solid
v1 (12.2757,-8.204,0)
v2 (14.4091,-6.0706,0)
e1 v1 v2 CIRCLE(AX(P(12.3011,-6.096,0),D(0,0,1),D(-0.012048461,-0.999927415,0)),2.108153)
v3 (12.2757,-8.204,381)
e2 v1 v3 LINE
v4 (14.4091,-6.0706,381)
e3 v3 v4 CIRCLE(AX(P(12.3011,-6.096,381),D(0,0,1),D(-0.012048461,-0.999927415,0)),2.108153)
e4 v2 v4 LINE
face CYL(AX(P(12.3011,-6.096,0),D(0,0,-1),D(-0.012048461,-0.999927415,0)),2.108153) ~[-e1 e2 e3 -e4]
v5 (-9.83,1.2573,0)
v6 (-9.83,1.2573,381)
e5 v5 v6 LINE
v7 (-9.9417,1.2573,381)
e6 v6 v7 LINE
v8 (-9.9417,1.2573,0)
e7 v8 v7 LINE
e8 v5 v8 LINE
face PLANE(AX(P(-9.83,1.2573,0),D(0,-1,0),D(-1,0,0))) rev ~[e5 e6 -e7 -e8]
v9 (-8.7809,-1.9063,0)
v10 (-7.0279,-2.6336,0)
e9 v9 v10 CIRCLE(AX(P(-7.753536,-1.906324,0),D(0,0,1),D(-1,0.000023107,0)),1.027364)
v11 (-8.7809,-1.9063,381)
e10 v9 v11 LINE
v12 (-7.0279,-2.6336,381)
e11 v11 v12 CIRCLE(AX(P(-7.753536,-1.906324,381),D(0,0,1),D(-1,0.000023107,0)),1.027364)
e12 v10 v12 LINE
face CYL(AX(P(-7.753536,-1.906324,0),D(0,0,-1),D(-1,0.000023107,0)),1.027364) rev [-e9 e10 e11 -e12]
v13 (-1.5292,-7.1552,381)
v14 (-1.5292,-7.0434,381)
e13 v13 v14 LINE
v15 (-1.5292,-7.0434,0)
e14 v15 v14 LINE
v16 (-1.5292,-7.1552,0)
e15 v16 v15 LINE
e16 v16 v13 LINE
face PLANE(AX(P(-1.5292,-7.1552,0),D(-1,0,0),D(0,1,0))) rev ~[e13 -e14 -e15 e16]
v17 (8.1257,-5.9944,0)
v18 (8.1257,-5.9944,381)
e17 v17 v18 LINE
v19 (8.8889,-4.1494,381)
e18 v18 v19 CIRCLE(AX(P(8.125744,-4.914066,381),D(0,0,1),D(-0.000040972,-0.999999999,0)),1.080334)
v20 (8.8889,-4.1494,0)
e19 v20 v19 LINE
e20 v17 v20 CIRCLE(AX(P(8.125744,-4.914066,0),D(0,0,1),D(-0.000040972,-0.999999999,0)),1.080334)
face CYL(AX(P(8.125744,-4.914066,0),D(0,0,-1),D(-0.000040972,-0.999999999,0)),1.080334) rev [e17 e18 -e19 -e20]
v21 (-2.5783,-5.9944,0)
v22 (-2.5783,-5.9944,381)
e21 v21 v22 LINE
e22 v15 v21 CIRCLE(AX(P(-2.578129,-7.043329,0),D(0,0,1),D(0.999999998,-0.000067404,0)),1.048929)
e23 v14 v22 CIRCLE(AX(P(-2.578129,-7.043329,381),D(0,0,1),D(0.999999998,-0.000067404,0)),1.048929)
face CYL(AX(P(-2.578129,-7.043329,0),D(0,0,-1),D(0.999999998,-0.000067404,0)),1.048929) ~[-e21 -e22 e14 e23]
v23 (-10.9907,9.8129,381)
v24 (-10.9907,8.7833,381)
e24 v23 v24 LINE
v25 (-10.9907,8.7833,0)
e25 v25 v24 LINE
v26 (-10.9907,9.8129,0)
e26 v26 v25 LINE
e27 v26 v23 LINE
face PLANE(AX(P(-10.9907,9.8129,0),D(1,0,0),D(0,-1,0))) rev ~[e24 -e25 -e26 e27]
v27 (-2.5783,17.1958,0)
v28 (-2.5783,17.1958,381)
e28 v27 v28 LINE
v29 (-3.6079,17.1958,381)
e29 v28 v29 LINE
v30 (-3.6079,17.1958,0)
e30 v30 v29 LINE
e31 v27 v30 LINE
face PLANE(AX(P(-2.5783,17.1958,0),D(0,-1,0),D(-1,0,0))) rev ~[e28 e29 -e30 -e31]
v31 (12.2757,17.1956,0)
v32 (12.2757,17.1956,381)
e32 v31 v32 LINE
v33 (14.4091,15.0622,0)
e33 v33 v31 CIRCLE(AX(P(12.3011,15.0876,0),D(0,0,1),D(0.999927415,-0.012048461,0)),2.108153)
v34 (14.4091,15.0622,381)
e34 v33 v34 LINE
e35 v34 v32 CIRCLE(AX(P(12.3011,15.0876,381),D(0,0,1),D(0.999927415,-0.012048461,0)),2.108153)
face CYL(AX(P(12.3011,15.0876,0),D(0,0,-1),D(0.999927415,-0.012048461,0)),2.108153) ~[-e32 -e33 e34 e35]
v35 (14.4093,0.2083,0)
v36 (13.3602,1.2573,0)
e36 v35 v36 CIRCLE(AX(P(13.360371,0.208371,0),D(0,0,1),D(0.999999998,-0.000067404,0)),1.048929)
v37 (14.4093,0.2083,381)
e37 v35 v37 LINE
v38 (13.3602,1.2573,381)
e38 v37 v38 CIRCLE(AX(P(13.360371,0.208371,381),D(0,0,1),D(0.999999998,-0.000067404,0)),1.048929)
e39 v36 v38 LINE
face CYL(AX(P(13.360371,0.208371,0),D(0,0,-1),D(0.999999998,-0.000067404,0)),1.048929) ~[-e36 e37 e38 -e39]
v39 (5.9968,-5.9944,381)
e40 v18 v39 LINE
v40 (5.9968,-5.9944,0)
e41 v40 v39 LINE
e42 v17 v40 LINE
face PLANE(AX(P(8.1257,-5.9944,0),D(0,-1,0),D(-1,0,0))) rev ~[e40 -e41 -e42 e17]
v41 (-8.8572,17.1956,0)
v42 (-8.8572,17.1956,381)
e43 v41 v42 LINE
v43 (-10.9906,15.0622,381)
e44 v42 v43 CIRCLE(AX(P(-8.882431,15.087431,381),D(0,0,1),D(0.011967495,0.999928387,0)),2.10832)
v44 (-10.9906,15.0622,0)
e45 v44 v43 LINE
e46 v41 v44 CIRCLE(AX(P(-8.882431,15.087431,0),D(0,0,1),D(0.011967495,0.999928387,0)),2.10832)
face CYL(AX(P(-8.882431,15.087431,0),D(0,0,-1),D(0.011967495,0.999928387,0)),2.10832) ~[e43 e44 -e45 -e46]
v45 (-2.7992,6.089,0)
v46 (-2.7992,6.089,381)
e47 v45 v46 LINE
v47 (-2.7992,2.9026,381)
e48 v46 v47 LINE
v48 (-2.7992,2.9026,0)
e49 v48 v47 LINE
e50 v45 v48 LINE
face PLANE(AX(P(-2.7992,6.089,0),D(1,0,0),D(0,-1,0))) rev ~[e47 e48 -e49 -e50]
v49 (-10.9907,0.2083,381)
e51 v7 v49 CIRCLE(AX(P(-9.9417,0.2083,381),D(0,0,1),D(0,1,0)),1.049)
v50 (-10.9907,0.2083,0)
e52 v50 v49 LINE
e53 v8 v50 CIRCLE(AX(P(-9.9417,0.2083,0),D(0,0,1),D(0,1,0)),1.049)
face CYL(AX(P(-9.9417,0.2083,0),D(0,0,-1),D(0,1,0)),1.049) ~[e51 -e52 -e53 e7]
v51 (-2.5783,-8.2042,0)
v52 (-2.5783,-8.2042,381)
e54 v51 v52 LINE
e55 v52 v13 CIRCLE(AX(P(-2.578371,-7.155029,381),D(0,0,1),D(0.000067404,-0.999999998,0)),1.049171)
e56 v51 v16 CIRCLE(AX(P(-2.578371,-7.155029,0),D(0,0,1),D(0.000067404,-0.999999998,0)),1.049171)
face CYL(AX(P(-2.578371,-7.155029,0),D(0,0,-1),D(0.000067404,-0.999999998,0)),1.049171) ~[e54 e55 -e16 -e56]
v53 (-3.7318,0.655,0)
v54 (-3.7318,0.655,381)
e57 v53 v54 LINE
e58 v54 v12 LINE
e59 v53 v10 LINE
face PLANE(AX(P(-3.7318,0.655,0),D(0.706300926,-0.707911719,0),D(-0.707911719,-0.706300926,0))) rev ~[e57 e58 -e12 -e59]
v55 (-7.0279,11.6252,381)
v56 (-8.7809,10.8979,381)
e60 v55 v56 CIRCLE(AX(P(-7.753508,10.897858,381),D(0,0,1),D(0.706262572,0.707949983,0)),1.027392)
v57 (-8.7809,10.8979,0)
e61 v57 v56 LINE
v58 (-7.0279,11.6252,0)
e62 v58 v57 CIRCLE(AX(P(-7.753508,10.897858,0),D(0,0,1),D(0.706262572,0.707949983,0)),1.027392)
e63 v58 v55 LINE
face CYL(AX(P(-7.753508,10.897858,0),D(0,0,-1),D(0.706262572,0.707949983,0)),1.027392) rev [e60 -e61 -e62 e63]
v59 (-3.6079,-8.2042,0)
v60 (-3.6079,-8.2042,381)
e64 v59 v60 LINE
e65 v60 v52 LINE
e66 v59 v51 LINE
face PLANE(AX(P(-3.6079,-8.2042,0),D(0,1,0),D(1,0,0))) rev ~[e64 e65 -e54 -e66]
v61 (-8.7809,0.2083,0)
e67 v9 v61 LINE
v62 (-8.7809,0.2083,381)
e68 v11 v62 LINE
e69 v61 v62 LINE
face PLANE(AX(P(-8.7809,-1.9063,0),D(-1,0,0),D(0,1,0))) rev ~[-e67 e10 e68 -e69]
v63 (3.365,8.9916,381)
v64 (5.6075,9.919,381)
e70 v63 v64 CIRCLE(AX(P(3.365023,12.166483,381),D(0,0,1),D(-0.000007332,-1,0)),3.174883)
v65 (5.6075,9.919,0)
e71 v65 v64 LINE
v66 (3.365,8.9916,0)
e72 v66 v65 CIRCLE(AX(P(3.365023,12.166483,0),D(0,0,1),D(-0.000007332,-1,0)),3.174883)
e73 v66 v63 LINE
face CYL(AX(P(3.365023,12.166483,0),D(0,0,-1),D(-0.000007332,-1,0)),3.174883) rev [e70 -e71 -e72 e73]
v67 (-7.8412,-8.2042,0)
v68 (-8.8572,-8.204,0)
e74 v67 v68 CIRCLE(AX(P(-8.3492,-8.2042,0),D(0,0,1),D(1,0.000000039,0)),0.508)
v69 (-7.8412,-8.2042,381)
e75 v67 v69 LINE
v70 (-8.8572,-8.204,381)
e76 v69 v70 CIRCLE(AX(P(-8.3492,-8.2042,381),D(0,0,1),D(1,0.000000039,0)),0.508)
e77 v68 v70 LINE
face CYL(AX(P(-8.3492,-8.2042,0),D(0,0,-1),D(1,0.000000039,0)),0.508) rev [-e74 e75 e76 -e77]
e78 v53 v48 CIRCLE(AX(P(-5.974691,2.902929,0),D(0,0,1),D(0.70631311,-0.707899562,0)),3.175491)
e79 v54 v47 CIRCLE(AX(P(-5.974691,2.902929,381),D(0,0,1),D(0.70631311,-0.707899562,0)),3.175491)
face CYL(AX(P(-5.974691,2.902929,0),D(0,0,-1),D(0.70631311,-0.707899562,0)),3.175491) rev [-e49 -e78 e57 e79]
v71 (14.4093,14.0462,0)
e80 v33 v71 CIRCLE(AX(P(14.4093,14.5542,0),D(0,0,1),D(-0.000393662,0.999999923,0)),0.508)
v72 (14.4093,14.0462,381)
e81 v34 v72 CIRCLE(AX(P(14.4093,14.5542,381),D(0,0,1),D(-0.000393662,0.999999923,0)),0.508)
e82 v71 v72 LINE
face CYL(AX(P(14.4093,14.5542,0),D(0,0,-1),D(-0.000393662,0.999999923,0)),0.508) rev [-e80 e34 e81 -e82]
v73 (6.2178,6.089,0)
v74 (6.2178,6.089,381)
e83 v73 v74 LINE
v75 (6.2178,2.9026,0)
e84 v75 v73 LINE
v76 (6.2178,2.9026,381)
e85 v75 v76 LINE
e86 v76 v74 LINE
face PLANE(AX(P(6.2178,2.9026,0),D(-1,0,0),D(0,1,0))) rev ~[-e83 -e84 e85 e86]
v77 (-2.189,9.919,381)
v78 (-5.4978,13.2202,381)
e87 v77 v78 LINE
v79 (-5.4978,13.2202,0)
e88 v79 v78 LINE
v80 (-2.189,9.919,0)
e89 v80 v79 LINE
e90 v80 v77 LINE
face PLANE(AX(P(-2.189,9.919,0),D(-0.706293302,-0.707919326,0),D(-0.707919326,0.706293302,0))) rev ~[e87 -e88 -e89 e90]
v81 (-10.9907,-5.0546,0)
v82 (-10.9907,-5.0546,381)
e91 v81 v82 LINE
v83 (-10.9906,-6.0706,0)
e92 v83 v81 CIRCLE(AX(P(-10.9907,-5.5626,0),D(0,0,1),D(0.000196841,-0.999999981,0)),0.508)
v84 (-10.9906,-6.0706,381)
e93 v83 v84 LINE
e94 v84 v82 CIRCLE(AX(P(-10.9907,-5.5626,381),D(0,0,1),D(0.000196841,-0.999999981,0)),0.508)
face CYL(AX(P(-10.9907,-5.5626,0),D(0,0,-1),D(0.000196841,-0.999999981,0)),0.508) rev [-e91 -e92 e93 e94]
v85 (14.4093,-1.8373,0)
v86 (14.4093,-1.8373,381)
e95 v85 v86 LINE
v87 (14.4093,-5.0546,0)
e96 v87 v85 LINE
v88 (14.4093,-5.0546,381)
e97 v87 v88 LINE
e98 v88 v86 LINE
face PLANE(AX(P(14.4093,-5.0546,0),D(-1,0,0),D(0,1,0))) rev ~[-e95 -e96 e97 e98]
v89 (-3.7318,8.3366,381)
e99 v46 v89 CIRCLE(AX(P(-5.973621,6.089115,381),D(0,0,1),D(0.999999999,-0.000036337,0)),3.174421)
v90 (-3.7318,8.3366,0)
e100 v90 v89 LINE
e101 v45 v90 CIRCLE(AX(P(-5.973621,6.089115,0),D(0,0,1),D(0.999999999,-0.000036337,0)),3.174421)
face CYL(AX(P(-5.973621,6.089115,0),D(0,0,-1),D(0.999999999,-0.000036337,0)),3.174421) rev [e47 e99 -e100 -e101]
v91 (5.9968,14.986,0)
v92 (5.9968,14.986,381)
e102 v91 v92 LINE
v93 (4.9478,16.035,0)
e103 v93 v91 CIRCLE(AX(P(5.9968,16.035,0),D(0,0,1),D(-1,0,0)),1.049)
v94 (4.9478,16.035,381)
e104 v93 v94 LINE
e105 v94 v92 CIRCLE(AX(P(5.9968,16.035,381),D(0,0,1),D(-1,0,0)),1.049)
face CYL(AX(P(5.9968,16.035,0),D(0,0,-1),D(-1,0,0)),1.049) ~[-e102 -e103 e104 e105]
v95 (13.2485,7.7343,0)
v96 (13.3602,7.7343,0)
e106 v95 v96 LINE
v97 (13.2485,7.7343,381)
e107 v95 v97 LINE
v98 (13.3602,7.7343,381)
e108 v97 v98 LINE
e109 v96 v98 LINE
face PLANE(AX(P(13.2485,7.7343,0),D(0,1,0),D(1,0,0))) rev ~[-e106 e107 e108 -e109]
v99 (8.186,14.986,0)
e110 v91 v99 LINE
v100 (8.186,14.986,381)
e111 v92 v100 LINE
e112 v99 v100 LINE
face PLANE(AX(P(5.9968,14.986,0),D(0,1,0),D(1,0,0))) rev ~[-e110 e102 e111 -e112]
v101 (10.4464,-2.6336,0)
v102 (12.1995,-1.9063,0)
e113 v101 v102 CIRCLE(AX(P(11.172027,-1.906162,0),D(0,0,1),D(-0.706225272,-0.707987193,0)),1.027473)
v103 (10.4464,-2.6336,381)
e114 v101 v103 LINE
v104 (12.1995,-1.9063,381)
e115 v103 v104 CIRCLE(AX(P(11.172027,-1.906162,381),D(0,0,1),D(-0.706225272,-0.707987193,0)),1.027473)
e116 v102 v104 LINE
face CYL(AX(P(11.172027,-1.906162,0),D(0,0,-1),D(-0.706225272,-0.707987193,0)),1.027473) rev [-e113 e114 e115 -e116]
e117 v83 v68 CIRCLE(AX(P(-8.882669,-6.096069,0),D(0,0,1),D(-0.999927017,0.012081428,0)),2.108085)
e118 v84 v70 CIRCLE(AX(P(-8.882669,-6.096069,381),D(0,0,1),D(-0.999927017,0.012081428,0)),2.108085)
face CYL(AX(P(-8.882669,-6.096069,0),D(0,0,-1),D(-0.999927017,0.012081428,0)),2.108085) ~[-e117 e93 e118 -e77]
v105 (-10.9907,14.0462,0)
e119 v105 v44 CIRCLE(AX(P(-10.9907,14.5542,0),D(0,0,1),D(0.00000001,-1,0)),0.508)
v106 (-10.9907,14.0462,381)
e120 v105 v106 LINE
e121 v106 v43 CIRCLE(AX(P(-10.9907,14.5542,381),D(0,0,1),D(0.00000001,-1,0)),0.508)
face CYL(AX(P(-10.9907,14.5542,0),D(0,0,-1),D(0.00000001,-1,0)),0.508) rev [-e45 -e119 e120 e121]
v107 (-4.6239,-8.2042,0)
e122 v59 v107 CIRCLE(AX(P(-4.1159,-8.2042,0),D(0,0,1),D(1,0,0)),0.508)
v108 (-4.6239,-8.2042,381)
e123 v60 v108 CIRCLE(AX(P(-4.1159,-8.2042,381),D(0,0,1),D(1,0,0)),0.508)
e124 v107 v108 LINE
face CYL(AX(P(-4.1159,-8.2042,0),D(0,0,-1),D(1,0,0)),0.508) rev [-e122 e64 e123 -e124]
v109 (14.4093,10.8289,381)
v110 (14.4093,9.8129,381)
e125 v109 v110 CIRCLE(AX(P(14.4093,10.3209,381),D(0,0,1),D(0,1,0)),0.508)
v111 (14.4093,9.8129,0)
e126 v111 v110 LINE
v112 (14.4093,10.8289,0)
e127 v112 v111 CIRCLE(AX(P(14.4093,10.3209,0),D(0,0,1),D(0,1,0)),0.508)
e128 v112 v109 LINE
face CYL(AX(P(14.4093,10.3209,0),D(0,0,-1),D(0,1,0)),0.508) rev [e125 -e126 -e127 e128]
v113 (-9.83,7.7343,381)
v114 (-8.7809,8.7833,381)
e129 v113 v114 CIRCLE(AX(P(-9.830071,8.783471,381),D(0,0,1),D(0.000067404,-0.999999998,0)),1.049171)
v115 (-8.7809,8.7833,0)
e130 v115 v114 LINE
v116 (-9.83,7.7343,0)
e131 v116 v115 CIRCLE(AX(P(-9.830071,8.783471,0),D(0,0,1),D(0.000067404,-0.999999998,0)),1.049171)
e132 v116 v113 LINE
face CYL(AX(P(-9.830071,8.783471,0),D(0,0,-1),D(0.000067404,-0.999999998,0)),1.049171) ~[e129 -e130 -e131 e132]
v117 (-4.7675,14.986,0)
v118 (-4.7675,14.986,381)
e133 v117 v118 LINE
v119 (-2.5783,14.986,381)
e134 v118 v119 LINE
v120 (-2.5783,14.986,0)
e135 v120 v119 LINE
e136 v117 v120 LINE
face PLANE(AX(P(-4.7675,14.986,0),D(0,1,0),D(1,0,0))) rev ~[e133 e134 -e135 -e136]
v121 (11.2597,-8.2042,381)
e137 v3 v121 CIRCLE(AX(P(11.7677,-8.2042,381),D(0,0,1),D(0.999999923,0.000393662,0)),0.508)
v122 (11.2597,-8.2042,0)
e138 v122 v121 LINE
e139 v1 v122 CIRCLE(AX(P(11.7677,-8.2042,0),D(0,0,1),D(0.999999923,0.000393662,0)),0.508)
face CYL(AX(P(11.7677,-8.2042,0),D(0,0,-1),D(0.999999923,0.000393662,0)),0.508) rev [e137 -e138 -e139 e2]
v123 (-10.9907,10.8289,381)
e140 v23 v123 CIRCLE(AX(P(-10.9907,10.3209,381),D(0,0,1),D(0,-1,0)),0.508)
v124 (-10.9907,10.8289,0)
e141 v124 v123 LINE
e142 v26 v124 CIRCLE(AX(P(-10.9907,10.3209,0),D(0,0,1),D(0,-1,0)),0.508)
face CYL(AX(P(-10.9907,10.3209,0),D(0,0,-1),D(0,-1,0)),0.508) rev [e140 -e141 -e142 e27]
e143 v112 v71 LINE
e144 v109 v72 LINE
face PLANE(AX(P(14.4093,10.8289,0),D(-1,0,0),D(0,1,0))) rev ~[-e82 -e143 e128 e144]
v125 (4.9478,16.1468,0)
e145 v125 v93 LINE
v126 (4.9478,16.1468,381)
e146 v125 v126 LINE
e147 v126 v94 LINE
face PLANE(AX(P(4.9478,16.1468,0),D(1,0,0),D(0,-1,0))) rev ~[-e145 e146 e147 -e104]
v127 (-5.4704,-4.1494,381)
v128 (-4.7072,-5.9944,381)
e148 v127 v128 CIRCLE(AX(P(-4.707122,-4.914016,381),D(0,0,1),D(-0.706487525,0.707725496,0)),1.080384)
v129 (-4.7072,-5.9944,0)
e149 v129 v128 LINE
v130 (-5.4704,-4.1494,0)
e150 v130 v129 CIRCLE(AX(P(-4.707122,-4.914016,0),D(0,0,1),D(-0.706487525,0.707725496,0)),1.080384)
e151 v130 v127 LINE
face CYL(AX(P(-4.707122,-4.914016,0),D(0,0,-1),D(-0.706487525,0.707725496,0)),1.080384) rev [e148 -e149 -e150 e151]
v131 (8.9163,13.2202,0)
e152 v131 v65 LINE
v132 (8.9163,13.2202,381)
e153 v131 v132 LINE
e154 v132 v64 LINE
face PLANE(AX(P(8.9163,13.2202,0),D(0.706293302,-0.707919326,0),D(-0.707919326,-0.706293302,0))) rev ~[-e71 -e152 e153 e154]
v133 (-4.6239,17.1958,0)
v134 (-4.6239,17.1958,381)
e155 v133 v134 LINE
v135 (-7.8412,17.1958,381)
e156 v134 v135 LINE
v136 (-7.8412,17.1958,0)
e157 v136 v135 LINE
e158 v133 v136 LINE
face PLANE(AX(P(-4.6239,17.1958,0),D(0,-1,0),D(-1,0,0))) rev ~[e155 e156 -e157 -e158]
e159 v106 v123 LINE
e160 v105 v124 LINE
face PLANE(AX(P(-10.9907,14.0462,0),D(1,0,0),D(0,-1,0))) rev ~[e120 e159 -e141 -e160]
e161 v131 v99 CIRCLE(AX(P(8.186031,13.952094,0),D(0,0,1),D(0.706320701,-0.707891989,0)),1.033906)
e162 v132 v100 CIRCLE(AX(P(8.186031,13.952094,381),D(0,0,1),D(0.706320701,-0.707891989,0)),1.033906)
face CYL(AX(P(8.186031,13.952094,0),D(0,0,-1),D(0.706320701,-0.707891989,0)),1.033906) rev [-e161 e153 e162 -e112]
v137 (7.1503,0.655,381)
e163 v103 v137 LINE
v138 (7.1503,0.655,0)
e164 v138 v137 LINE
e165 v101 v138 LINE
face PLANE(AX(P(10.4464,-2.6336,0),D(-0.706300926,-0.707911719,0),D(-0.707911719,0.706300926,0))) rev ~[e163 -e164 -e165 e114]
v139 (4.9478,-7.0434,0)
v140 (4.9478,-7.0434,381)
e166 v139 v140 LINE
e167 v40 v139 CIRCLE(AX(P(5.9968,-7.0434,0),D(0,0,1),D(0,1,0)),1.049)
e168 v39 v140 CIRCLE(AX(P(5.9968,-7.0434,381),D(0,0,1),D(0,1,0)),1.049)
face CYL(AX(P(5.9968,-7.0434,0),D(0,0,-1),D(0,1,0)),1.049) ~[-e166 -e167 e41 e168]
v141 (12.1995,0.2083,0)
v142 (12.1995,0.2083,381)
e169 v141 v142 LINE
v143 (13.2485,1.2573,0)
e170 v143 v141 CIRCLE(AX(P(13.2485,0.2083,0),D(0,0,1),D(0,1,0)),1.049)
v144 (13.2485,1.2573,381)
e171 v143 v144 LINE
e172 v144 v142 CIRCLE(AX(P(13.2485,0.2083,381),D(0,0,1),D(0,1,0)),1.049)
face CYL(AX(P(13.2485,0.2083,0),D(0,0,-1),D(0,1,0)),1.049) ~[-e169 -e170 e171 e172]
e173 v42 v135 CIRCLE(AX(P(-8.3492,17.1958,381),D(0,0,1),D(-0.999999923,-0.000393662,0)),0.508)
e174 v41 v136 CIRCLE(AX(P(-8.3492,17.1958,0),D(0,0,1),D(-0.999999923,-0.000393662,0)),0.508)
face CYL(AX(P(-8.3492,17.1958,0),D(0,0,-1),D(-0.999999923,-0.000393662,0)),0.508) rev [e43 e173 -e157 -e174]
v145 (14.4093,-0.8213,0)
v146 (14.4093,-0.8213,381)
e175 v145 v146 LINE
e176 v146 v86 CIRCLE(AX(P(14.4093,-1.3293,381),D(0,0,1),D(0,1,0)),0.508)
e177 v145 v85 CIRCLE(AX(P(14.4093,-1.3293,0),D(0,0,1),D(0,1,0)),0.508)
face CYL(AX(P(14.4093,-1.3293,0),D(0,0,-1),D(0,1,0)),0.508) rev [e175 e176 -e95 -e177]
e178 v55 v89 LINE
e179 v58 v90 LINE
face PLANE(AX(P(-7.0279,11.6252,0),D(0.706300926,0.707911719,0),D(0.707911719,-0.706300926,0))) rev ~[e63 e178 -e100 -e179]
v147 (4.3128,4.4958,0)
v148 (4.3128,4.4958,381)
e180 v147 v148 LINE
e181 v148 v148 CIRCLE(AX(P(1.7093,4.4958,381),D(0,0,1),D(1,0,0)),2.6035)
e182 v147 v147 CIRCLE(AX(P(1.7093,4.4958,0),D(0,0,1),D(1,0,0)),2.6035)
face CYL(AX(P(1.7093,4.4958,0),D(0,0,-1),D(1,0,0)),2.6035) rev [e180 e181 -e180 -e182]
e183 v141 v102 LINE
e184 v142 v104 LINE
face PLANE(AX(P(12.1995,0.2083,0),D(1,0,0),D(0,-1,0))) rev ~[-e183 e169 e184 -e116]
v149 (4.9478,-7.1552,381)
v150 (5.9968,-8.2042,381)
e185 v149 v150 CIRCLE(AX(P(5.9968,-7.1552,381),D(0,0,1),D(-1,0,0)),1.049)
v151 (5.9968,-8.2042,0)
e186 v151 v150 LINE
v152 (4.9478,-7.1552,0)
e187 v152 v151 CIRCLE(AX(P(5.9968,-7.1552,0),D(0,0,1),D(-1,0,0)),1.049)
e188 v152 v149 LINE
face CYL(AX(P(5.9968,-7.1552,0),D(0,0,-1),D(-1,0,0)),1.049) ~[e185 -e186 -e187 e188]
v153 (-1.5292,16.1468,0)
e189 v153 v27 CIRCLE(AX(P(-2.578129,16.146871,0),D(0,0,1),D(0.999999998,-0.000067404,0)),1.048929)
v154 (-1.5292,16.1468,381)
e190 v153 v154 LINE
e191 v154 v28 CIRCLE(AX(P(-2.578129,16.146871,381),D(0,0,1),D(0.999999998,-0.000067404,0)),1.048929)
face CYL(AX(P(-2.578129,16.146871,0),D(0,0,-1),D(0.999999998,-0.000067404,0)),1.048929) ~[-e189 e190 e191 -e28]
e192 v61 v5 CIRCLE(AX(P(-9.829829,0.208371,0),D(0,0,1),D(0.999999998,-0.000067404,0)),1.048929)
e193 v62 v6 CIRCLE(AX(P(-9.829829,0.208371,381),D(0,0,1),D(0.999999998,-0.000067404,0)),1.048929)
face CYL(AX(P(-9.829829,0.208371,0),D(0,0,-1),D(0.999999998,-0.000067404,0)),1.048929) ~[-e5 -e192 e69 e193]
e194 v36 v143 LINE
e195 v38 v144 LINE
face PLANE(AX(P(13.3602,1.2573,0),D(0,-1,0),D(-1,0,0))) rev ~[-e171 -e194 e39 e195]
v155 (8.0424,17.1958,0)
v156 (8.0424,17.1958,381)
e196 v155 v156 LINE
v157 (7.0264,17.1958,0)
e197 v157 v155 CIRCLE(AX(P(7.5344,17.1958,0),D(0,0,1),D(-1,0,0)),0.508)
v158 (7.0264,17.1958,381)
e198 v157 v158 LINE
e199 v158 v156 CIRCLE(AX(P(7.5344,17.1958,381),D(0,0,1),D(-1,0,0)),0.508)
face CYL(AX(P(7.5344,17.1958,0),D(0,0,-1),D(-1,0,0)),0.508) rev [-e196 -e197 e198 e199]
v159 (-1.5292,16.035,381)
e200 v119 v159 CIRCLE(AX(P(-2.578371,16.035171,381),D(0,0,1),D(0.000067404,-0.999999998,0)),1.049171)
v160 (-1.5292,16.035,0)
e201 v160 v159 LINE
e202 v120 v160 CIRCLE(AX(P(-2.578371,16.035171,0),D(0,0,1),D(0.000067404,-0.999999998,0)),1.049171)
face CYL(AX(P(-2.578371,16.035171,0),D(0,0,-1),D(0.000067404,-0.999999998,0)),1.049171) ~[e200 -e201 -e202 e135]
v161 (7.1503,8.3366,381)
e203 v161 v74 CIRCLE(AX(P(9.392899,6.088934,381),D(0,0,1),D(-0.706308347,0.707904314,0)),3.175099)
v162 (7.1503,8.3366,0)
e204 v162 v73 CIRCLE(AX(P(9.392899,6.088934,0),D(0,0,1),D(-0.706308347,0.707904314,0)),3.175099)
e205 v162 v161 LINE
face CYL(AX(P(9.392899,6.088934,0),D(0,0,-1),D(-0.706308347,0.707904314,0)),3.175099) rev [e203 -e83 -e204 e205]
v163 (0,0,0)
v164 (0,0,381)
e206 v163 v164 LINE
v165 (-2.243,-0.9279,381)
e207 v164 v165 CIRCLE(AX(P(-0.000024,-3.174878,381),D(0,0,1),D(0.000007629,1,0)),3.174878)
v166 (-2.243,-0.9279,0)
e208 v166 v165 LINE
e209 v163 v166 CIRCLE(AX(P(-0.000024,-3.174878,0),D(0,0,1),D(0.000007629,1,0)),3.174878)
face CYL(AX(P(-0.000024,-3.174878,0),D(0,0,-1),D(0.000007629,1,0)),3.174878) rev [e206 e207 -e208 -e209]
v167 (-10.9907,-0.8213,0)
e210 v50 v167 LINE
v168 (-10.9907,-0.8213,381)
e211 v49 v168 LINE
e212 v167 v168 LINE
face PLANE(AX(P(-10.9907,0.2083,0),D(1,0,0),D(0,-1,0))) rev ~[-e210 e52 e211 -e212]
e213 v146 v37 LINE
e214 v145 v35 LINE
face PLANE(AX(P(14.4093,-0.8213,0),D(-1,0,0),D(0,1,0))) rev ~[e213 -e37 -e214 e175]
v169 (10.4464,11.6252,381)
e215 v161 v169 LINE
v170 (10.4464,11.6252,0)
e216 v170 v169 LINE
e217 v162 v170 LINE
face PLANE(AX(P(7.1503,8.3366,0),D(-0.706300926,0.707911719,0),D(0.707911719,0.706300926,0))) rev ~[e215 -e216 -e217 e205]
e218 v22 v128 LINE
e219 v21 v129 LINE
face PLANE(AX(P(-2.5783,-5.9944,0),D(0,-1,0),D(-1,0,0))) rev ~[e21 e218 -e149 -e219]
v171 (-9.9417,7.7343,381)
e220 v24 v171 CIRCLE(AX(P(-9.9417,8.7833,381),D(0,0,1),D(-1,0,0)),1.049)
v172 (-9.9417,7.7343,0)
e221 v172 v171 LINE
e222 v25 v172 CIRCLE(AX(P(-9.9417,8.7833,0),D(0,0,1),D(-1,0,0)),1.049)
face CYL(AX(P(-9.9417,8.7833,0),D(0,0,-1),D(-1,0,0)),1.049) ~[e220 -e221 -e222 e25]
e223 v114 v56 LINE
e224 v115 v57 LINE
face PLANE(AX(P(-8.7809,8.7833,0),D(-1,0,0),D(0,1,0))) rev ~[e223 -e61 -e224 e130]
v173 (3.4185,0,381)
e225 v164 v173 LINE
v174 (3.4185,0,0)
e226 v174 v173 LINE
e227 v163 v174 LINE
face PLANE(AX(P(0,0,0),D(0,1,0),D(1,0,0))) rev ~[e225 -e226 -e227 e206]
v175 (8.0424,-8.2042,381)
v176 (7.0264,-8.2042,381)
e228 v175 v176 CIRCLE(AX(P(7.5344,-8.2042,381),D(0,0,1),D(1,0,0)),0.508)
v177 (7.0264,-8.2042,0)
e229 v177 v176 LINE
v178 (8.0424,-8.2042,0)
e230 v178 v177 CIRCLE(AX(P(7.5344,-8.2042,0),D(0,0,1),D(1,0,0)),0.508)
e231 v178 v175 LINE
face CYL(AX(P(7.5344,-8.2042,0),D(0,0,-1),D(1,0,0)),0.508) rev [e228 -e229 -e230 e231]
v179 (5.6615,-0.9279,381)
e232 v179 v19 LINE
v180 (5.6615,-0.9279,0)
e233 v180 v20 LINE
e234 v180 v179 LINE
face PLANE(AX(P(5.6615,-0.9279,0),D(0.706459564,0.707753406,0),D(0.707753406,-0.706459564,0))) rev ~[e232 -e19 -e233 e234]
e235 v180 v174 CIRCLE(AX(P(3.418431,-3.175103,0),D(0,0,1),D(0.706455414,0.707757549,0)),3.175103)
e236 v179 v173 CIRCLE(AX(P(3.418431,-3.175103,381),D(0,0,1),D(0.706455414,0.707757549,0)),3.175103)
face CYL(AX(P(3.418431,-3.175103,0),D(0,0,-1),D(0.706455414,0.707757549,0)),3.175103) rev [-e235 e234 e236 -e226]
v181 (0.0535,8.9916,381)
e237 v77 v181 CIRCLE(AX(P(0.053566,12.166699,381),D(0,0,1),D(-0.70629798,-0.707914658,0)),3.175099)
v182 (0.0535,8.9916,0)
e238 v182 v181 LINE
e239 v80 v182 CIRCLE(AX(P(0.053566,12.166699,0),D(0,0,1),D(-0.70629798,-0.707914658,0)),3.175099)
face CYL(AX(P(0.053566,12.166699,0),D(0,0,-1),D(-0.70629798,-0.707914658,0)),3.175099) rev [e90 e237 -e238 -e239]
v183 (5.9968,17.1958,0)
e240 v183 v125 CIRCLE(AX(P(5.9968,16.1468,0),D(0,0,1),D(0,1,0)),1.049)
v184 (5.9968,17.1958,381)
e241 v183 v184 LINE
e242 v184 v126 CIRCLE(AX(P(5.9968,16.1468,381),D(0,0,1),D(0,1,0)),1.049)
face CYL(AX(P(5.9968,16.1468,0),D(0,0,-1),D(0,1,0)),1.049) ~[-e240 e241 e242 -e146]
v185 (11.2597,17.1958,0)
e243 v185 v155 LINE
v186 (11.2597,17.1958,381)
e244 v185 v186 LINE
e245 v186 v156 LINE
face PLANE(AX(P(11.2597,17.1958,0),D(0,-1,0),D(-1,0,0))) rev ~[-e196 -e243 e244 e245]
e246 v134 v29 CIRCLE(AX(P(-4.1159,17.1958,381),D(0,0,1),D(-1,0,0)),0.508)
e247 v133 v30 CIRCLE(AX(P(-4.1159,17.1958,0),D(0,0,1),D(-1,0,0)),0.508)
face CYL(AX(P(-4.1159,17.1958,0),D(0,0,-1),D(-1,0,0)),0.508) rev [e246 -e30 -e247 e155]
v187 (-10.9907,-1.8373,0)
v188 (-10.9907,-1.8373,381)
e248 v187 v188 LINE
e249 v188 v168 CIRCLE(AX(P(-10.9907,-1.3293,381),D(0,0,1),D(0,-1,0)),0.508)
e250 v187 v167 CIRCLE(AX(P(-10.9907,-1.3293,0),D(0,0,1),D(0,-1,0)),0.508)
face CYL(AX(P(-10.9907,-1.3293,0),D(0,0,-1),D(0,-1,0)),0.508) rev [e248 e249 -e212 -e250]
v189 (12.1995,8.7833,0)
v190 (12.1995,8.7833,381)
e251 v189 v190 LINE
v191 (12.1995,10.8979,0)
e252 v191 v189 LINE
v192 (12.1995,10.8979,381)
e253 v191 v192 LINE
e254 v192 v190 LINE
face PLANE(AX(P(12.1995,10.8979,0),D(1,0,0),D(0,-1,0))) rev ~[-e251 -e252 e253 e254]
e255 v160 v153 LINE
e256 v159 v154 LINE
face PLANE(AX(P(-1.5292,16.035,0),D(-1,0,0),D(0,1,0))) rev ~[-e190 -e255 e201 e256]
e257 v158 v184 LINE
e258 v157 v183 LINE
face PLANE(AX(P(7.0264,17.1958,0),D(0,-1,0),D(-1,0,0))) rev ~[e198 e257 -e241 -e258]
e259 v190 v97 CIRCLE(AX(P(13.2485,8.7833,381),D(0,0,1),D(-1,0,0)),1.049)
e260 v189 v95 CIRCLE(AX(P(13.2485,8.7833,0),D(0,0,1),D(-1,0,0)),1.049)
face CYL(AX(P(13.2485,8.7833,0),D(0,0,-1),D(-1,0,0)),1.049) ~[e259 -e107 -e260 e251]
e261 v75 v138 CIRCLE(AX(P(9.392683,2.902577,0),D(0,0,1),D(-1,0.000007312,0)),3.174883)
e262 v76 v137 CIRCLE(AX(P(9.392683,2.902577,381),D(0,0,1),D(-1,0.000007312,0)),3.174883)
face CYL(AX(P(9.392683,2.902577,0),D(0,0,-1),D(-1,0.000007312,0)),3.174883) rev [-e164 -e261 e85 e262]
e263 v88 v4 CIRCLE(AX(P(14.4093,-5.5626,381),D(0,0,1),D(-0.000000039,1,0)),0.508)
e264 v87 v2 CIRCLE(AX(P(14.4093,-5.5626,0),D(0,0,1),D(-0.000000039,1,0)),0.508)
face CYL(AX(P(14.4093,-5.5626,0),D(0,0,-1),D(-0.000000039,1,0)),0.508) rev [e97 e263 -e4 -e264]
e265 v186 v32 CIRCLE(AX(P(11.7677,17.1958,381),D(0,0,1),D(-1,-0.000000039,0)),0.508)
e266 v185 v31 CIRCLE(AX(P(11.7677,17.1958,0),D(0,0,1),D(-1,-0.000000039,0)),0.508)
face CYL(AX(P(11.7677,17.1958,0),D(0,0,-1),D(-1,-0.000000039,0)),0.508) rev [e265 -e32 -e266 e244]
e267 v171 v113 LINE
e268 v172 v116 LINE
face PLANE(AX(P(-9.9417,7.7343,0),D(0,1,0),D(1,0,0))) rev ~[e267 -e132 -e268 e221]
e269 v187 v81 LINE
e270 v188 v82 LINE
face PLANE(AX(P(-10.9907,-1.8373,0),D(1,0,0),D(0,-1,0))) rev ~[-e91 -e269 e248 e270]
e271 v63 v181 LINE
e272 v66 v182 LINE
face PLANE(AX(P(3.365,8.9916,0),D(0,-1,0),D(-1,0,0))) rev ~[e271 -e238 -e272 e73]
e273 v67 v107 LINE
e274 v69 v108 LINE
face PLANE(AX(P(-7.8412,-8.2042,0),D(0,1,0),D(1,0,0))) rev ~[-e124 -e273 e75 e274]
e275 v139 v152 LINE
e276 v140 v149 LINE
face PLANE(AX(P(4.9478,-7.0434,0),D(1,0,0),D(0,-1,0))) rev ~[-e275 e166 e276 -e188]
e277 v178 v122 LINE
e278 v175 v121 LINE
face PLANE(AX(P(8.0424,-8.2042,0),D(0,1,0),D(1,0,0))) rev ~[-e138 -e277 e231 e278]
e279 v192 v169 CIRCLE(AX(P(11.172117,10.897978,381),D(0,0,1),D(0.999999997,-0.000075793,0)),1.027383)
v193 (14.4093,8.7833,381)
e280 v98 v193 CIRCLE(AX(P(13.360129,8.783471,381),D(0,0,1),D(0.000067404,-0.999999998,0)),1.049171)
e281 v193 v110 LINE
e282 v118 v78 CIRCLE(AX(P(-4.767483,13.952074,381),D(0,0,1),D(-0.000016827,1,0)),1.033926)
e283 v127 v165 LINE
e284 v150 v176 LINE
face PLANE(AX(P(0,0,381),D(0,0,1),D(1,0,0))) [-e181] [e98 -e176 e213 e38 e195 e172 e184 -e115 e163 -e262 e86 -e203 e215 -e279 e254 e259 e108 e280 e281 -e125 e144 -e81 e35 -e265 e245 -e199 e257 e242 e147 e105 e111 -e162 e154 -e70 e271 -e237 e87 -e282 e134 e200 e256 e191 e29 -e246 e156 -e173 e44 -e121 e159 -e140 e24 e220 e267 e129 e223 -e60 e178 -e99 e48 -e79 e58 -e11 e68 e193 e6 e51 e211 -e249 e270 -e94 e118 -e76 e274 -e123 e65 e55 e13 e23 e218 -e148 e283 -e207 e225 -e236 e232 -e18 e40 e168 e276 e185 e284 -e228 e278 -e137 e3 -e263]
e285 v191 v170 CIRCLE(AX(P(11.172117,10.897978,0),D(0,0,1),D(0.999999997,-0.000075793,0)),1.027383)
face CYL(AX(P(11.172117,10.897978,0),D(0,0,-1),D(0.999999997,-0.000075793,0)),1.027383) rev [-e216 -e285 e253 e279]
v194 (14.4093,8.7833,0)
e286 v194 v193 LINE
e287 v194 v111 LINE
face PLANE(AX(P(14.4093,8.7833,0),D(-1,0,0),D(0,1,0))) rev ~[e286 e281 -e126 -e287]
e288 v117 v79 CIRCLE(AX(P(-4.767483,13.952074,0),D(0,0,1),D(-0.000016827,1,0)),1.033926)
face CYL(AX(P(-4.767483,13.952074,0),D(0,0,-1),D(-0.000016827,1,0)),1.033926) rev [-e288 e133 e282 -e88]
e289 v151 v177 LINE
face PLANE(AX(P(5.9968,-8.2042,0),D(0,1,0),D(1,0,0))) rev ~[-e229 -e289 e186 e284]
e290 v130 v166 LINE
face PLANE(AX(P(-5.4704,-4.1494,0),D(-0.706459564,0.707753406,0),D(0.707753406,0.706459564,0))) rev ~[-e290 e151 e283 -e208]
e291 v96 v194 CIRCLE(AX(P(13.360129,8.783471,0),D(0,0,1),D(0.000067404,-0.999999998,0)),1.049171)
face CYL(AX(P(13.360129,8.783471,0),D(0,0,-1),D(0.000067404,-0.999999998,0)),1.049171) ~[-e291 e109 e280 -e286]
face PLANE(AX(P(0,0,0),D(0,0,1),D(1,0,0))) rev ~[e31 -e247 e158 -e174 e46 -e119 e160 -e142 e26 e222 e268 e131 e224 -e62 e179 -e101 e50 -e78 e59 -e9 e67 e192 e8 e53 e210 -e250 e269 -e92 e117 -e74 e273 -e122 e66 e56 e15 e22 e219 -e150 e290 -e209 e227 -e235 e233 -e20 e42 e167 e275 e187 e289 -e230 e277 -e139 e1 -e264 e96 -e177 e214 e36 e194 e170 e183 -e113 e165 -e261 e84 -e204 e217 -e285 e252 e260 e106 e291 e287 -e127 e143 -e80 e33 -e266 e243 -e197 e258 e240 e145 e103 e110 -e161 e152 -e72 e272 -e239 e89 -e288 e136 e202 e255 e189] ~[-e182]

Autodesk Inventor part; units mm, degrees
ref_plane "YZ Plane" through (0, 0, 0) normal (1, 0, 0) x (0, 1, 0)
ref_plane "XZ Plane" through (0, 0, 0) normal (0, 1, 0) x (-1, 0, 0)
ref_plane "XY Plane" through (0, 0, 0) normal (0, 0, 1) x (1, 0, 0)
sketch "Sketch1" plane through (0, 0, 0) normal (0, 0, 1) x (1, 0, 0)
  arc A0 (-5.4704, -4.1494) -> (-4.7072, -5.9944) centre (-4.7072, -4.914) ccw
  line L0 (-5.4704, -4.1494) -> (-2.243, -0.9279)
  arc A1 (0, 0) -> (-2.243, -0.9279) centre (0, -3.175) ccw
  line L1 (0, 0) -> (3.4185, 0)
  arc A2 (5.6615, -0.9279) -> (3.4185, 0) centre (3.4185, -3.175) ccw
  line L2 (5.6615, -0.9279) -> (8.8889, -4.1494)
  arc A3 (8.1257, -5.9944) -> (8.8889, -4.1494) centre (8.1257, -4.914) ccw
  line L3 (8.1257, -5.9944) -> (5.9968, -5.9944)
  arc A4 (5.9968, -5.9944) -> (4.9478, -7.0434) centre (5.9968, -7.0434) ccw
  line L4 (4.9478, -7.0434) -> (4.9478, -7.1552)
  arc A5 (4.9478, -7.1552) -> (5.9968, -8.2042) centre (5.9968, -7.1552) ccw
  line L5 (5.9968, -8.2042) -> (7.0264, -8.2042)
  arc A6 (8.0424, -8.2042) -> (7.0264, -8.2042) centre (7.5344, -8.2042) ccw
  line L6 (8.0424, -8.2042) -> (11.2597, -8.2042)
  arc A7 (12.2757, -8.204) -> (11.2597, -8.2042) centre (11.7677, -8.2042) ccw
  arc A8 (12.2757, -8.204) -> (14.4091, -6.0706) centre (12.3011, -6.096) ccw
  arc A9 (14.4093, -5.0546) -> (14.4091, -6.0706) centre (14.4093, -5.5626) ccw
  line L7 (14.4093, -5.0546) -> (14.4093, -1.8373)
  arc A10 (14.4093, -0.8213) -> (14.4093, -1.8373) centre (14.4093, -1.3293) ccw
  line L8 (14.4093, -0.8213) -> (14.4093, 0.2083)
  arc A11 (14.4093, 0.2083) -> (13.3602, 1.2573) centre (13.3602, 0.2083) ccw
  line L9 (13.3602, 1.2573) -> (13.2485, 1.2573)
  arc A12 (13.2485, 1.2573) -> (12.1995, 0.2083) centre (13.2485, 0.2083) ccw
  line L10 (12.1995, 0.2083) -> (12.1995, -1.9063)
  arc A13 (10.4464, -2.6336) -> (12.1995, -1.9063) centre (11.172, -1.9063) ccw
  line L11 (10.4464, -2.6336) -> (7.1503, 0.655)
  arc A14 (6.2178, 2.9026) -> (7.1503, 0.655) centre (9.3928, 2.9026) ccw
  line L12 (6.2178, 2.9026) -> (6.2178, 6.089)
  arc A15 (7.1503, 8.3366) -> (6.2178, 6.089) centre (9.3928, 6.089) ccw
  line L13 (7.1503, 8.3366) -> (10.4464, 11.6252)
  arc A16 (12.1995, 10.8979) -> (10.4464, 11.6252) centre (11.172, 10.8979) ccw
  line L14 (12.1995, 10.8979) -> (12.1995, 8.7833)
  arc A17 (12.1995, 8.7833) -> (13.2485, 7.7343) centre (13.2485, 8.7833) ccw
  line L15 (13.2485, 7.7343) -> (13.3602, 7.7343)
  arc A18 (13.3602, 7.7343) -> (14.4093, 8.7833) centre (13.3602, 8.7833) ccw
  line L16 (14.4093, 8.7833) -> (14.4093, 9.8129)
  arc A19 (14.4093, 10.8289) -> (14.4093, 9.8129) centre (14.4093, 10.3209) ccw
  line L17 (14.4093, 10.8289) -> (14.4093, 14.0462)
  arc A20 (14.4091, 15.0622) -> (14.4093, 14.0462) centre (14.4093, 14.5542) ccw
  arc A21 (14.4091, 15.0622) -> (12.2757, 17.1956) centre (12.3011, 15.0876) ccw
  arc A22 (11.2597, 17.1958) -> (12.2757, 17.1956) centre (11.7677, 17.1958) ccw
  line L18 (11.2597, 17.1958) -> (8.0424, 17.1958)
  arc A23 (7.0264, 17.1958) -> (8.0424, 17.1958) centre (7.5344, 17.1958) ccw
  line L19 (7.0264, 17.1958) -> (5.9968, 17.1958)
  arc A24 (5.9968, 17.1958) -> (4.9478, 16.1468) centre (5.9968, 16.1468) ccw
  line L20 (4.9478, 16.1468) -> (4.9478, 16.035)
  arc A25 (4.9478, 16.035) -> (5.9968, 14.986) centre (5.9968, 16.035) ccw
  line L21 (5.9968, 14.986) -> (8.186, 14.986)
  arc A26 (8.9163, 13.2202) -> (8.186, 14.986) centre (8.186, 13.9521) ccw
  line L22 (8.9163, 13.2202) -> (5.6075, 9.919)
  arc A27 (3.365, 8.9916) -> (5.6075, 9.919) centre (3.365, 12.1666) ccw
  line L23 (3.365, 8.9916) -> (0.0535, 8.9916)
  arc A28 (-2.189, 9.919) -> (0.0535, 8.9916) centre (0.0535, 12.1666) ccw
  line L24 (-2.189, 9.919) -> (-5.4978, 13.2202)
  arc A29 (-4.7675, 14.986) -> (-5.4978, 13.2202) centre (-4.7675, 13.9521) ccw
  line L25 (-4.7675, 14.986) -> (-2.5783, 14.986)
  arc A30 (-2.5783, 14.986) -> (-1.5292, 16.035) centre (-2.5783, 16.035) ccw
  line L26 (-1.5292, 16.035) -> (-1.5292, 16.1468)
  arc A31 (-1.5292, 16.1468) -> (-2.5783, 17.1958) centre (-2.5783, 16.1468) ccw
  line L27 (-2.5783, 17.1958) -> (-3.6079, 17.1958)
  arc A32 (-4.6239, 17.1958) -> (-3.6079, 17.1958) centre (-4.1159, 17.1958) ccw
  line L28 (-4.6239, 17.1958) -> (-7.8412, 17.1958)
  arc A33 (-8.8572, 17.1956) -> (-7.8412, 17.1958) centre (-8.3492, 17.1958) ccw
  arc A34 (-8.8572, 17.1956) -> (-10.9906, 15.0622) centre (-8.8825, 15.0876) ccw
  arc A35 (-10.9907, 14.0462) -> (-10.9906, 15.0622) centre (-10.9907, 14.5542) ccw
  line L29 (-10.9907, 14.0462) -> (-10.9907, 10.8289)
  arc A36 (-10.9907, 9.8129) -> (-10.9907, 10.8289) centre (-10.9907, 10.3209) ccw
  line L30 (-10.9907, 9.8129) -> (-10.9907, 8.7833)
  arc A37 (-10.9907, 8.7833) -> (-9.9417, 7.7343) centre (-9.9417, 8.7833) ccw
  line L31 (-9.9417, 7.7343) -> (-9.83, 7.7343)
  arc A38 (-9.83, 7.7343) -> (-8.7809, 8.7833) centre (-9.83, 8.7833) ccw
  line L32 (-8.7809, 8.7833) -> (-8.7809, 10.8979)
  arc A39 (-7.0279, 11.6252) -> (-8.7809, 10.8979) centre (-7.7535, 10.8979) ccw
  line L33 (-7.0279, 11.6252) -> (-3.7318, 8.3366)
  arc A40 (-2.7992, 6.089) -> (-3.7318, 8.3366) centre (-5.9742, 6.089) ccw
  line L34 (-2.7992, 6.089) -> (-2.7992, 2.9026)
  arc A41 (-3.7318, 0.655) -> (-2.7992, 2.9026) centre (-5.9742, 2.9026) ccw
  line L35 (-3.7318, 0.655) -> (-7.0279, -2.6336)
  arc A42 (-8.7809, -1.9063) -> (-7.0279, -2.6336) centre (-7.7535, -1.9063) ccw
  line L36 (-8.7809, -1.9063) -> (-8.7809, 0.2083)
  arc A43 (-8.7809, 0.2083) -> (-9.83, 1.2573) centre (-9.83, 0.2083) ccw
  line L37 (-9.83, 1.2573) -> (-9.9417, 1.2573)
  arc A44 (-9.9417, 1.2573) -> (-10.9907, 0.2083) centre (-9.9417, 0.2083) ccw
  line L38 (-10.9907, 0.2083) -> (-10.9907, -0.8213)
  arc A45 (-10.9907, -1.8373) -> (-10.9907, -0.8213) centre (-10.9907, -1.3293) ccw
  line L39 (-10.9907, -1.8373) -> (-10.9907, -5.0546)
  arc A46 (-10.9906, -6.0706) -> (-10.9907, -5.0546) centre (-10.9907, -5.5626) ccw
  arc A47 (-10.9906, -6.0706) -> (-8.8572, -8.204) centre (-8.8825, -6.096) ccw
  arc A48 (-7.8412, -8.2042) -> (-8.8572, -8.204) centre (-8.3492, -8.2042) ccw
  line L40 (-7.8412, -8.2042) -> (-4.6239, -8.2042)
  arc A49 (-3.6079, -8.2042) -> (-4.6239, -8.2042) centre (-4.1159, -8.2042) ccw
  line L41 (-3.6079, -8.2042) -> (-2.5783, -8.2042)
  arc A50 (-2.5783, -8.2042) -> (-1.5292, -7.1552) centre (-2.5783, -7.1552) ccw
  line L42 (-1.5292, -7.1552) -> (-1.5292, -7.0434)
  arc A51 (-1.5292, -7.0434) -> (-2.5783, -5.9944) centre (-2.5783, -7.0434) ccw
  line L43 (-2.5783, -5.9944) -> (-4.7072, -5.9944)
  circle A52 centre (1.7093, 4.4958) radius 2.6035
extrude "Extrusion1" add sketch "Sketch1" along normal blind 381
properties part number "15in 1x1 T slot"
